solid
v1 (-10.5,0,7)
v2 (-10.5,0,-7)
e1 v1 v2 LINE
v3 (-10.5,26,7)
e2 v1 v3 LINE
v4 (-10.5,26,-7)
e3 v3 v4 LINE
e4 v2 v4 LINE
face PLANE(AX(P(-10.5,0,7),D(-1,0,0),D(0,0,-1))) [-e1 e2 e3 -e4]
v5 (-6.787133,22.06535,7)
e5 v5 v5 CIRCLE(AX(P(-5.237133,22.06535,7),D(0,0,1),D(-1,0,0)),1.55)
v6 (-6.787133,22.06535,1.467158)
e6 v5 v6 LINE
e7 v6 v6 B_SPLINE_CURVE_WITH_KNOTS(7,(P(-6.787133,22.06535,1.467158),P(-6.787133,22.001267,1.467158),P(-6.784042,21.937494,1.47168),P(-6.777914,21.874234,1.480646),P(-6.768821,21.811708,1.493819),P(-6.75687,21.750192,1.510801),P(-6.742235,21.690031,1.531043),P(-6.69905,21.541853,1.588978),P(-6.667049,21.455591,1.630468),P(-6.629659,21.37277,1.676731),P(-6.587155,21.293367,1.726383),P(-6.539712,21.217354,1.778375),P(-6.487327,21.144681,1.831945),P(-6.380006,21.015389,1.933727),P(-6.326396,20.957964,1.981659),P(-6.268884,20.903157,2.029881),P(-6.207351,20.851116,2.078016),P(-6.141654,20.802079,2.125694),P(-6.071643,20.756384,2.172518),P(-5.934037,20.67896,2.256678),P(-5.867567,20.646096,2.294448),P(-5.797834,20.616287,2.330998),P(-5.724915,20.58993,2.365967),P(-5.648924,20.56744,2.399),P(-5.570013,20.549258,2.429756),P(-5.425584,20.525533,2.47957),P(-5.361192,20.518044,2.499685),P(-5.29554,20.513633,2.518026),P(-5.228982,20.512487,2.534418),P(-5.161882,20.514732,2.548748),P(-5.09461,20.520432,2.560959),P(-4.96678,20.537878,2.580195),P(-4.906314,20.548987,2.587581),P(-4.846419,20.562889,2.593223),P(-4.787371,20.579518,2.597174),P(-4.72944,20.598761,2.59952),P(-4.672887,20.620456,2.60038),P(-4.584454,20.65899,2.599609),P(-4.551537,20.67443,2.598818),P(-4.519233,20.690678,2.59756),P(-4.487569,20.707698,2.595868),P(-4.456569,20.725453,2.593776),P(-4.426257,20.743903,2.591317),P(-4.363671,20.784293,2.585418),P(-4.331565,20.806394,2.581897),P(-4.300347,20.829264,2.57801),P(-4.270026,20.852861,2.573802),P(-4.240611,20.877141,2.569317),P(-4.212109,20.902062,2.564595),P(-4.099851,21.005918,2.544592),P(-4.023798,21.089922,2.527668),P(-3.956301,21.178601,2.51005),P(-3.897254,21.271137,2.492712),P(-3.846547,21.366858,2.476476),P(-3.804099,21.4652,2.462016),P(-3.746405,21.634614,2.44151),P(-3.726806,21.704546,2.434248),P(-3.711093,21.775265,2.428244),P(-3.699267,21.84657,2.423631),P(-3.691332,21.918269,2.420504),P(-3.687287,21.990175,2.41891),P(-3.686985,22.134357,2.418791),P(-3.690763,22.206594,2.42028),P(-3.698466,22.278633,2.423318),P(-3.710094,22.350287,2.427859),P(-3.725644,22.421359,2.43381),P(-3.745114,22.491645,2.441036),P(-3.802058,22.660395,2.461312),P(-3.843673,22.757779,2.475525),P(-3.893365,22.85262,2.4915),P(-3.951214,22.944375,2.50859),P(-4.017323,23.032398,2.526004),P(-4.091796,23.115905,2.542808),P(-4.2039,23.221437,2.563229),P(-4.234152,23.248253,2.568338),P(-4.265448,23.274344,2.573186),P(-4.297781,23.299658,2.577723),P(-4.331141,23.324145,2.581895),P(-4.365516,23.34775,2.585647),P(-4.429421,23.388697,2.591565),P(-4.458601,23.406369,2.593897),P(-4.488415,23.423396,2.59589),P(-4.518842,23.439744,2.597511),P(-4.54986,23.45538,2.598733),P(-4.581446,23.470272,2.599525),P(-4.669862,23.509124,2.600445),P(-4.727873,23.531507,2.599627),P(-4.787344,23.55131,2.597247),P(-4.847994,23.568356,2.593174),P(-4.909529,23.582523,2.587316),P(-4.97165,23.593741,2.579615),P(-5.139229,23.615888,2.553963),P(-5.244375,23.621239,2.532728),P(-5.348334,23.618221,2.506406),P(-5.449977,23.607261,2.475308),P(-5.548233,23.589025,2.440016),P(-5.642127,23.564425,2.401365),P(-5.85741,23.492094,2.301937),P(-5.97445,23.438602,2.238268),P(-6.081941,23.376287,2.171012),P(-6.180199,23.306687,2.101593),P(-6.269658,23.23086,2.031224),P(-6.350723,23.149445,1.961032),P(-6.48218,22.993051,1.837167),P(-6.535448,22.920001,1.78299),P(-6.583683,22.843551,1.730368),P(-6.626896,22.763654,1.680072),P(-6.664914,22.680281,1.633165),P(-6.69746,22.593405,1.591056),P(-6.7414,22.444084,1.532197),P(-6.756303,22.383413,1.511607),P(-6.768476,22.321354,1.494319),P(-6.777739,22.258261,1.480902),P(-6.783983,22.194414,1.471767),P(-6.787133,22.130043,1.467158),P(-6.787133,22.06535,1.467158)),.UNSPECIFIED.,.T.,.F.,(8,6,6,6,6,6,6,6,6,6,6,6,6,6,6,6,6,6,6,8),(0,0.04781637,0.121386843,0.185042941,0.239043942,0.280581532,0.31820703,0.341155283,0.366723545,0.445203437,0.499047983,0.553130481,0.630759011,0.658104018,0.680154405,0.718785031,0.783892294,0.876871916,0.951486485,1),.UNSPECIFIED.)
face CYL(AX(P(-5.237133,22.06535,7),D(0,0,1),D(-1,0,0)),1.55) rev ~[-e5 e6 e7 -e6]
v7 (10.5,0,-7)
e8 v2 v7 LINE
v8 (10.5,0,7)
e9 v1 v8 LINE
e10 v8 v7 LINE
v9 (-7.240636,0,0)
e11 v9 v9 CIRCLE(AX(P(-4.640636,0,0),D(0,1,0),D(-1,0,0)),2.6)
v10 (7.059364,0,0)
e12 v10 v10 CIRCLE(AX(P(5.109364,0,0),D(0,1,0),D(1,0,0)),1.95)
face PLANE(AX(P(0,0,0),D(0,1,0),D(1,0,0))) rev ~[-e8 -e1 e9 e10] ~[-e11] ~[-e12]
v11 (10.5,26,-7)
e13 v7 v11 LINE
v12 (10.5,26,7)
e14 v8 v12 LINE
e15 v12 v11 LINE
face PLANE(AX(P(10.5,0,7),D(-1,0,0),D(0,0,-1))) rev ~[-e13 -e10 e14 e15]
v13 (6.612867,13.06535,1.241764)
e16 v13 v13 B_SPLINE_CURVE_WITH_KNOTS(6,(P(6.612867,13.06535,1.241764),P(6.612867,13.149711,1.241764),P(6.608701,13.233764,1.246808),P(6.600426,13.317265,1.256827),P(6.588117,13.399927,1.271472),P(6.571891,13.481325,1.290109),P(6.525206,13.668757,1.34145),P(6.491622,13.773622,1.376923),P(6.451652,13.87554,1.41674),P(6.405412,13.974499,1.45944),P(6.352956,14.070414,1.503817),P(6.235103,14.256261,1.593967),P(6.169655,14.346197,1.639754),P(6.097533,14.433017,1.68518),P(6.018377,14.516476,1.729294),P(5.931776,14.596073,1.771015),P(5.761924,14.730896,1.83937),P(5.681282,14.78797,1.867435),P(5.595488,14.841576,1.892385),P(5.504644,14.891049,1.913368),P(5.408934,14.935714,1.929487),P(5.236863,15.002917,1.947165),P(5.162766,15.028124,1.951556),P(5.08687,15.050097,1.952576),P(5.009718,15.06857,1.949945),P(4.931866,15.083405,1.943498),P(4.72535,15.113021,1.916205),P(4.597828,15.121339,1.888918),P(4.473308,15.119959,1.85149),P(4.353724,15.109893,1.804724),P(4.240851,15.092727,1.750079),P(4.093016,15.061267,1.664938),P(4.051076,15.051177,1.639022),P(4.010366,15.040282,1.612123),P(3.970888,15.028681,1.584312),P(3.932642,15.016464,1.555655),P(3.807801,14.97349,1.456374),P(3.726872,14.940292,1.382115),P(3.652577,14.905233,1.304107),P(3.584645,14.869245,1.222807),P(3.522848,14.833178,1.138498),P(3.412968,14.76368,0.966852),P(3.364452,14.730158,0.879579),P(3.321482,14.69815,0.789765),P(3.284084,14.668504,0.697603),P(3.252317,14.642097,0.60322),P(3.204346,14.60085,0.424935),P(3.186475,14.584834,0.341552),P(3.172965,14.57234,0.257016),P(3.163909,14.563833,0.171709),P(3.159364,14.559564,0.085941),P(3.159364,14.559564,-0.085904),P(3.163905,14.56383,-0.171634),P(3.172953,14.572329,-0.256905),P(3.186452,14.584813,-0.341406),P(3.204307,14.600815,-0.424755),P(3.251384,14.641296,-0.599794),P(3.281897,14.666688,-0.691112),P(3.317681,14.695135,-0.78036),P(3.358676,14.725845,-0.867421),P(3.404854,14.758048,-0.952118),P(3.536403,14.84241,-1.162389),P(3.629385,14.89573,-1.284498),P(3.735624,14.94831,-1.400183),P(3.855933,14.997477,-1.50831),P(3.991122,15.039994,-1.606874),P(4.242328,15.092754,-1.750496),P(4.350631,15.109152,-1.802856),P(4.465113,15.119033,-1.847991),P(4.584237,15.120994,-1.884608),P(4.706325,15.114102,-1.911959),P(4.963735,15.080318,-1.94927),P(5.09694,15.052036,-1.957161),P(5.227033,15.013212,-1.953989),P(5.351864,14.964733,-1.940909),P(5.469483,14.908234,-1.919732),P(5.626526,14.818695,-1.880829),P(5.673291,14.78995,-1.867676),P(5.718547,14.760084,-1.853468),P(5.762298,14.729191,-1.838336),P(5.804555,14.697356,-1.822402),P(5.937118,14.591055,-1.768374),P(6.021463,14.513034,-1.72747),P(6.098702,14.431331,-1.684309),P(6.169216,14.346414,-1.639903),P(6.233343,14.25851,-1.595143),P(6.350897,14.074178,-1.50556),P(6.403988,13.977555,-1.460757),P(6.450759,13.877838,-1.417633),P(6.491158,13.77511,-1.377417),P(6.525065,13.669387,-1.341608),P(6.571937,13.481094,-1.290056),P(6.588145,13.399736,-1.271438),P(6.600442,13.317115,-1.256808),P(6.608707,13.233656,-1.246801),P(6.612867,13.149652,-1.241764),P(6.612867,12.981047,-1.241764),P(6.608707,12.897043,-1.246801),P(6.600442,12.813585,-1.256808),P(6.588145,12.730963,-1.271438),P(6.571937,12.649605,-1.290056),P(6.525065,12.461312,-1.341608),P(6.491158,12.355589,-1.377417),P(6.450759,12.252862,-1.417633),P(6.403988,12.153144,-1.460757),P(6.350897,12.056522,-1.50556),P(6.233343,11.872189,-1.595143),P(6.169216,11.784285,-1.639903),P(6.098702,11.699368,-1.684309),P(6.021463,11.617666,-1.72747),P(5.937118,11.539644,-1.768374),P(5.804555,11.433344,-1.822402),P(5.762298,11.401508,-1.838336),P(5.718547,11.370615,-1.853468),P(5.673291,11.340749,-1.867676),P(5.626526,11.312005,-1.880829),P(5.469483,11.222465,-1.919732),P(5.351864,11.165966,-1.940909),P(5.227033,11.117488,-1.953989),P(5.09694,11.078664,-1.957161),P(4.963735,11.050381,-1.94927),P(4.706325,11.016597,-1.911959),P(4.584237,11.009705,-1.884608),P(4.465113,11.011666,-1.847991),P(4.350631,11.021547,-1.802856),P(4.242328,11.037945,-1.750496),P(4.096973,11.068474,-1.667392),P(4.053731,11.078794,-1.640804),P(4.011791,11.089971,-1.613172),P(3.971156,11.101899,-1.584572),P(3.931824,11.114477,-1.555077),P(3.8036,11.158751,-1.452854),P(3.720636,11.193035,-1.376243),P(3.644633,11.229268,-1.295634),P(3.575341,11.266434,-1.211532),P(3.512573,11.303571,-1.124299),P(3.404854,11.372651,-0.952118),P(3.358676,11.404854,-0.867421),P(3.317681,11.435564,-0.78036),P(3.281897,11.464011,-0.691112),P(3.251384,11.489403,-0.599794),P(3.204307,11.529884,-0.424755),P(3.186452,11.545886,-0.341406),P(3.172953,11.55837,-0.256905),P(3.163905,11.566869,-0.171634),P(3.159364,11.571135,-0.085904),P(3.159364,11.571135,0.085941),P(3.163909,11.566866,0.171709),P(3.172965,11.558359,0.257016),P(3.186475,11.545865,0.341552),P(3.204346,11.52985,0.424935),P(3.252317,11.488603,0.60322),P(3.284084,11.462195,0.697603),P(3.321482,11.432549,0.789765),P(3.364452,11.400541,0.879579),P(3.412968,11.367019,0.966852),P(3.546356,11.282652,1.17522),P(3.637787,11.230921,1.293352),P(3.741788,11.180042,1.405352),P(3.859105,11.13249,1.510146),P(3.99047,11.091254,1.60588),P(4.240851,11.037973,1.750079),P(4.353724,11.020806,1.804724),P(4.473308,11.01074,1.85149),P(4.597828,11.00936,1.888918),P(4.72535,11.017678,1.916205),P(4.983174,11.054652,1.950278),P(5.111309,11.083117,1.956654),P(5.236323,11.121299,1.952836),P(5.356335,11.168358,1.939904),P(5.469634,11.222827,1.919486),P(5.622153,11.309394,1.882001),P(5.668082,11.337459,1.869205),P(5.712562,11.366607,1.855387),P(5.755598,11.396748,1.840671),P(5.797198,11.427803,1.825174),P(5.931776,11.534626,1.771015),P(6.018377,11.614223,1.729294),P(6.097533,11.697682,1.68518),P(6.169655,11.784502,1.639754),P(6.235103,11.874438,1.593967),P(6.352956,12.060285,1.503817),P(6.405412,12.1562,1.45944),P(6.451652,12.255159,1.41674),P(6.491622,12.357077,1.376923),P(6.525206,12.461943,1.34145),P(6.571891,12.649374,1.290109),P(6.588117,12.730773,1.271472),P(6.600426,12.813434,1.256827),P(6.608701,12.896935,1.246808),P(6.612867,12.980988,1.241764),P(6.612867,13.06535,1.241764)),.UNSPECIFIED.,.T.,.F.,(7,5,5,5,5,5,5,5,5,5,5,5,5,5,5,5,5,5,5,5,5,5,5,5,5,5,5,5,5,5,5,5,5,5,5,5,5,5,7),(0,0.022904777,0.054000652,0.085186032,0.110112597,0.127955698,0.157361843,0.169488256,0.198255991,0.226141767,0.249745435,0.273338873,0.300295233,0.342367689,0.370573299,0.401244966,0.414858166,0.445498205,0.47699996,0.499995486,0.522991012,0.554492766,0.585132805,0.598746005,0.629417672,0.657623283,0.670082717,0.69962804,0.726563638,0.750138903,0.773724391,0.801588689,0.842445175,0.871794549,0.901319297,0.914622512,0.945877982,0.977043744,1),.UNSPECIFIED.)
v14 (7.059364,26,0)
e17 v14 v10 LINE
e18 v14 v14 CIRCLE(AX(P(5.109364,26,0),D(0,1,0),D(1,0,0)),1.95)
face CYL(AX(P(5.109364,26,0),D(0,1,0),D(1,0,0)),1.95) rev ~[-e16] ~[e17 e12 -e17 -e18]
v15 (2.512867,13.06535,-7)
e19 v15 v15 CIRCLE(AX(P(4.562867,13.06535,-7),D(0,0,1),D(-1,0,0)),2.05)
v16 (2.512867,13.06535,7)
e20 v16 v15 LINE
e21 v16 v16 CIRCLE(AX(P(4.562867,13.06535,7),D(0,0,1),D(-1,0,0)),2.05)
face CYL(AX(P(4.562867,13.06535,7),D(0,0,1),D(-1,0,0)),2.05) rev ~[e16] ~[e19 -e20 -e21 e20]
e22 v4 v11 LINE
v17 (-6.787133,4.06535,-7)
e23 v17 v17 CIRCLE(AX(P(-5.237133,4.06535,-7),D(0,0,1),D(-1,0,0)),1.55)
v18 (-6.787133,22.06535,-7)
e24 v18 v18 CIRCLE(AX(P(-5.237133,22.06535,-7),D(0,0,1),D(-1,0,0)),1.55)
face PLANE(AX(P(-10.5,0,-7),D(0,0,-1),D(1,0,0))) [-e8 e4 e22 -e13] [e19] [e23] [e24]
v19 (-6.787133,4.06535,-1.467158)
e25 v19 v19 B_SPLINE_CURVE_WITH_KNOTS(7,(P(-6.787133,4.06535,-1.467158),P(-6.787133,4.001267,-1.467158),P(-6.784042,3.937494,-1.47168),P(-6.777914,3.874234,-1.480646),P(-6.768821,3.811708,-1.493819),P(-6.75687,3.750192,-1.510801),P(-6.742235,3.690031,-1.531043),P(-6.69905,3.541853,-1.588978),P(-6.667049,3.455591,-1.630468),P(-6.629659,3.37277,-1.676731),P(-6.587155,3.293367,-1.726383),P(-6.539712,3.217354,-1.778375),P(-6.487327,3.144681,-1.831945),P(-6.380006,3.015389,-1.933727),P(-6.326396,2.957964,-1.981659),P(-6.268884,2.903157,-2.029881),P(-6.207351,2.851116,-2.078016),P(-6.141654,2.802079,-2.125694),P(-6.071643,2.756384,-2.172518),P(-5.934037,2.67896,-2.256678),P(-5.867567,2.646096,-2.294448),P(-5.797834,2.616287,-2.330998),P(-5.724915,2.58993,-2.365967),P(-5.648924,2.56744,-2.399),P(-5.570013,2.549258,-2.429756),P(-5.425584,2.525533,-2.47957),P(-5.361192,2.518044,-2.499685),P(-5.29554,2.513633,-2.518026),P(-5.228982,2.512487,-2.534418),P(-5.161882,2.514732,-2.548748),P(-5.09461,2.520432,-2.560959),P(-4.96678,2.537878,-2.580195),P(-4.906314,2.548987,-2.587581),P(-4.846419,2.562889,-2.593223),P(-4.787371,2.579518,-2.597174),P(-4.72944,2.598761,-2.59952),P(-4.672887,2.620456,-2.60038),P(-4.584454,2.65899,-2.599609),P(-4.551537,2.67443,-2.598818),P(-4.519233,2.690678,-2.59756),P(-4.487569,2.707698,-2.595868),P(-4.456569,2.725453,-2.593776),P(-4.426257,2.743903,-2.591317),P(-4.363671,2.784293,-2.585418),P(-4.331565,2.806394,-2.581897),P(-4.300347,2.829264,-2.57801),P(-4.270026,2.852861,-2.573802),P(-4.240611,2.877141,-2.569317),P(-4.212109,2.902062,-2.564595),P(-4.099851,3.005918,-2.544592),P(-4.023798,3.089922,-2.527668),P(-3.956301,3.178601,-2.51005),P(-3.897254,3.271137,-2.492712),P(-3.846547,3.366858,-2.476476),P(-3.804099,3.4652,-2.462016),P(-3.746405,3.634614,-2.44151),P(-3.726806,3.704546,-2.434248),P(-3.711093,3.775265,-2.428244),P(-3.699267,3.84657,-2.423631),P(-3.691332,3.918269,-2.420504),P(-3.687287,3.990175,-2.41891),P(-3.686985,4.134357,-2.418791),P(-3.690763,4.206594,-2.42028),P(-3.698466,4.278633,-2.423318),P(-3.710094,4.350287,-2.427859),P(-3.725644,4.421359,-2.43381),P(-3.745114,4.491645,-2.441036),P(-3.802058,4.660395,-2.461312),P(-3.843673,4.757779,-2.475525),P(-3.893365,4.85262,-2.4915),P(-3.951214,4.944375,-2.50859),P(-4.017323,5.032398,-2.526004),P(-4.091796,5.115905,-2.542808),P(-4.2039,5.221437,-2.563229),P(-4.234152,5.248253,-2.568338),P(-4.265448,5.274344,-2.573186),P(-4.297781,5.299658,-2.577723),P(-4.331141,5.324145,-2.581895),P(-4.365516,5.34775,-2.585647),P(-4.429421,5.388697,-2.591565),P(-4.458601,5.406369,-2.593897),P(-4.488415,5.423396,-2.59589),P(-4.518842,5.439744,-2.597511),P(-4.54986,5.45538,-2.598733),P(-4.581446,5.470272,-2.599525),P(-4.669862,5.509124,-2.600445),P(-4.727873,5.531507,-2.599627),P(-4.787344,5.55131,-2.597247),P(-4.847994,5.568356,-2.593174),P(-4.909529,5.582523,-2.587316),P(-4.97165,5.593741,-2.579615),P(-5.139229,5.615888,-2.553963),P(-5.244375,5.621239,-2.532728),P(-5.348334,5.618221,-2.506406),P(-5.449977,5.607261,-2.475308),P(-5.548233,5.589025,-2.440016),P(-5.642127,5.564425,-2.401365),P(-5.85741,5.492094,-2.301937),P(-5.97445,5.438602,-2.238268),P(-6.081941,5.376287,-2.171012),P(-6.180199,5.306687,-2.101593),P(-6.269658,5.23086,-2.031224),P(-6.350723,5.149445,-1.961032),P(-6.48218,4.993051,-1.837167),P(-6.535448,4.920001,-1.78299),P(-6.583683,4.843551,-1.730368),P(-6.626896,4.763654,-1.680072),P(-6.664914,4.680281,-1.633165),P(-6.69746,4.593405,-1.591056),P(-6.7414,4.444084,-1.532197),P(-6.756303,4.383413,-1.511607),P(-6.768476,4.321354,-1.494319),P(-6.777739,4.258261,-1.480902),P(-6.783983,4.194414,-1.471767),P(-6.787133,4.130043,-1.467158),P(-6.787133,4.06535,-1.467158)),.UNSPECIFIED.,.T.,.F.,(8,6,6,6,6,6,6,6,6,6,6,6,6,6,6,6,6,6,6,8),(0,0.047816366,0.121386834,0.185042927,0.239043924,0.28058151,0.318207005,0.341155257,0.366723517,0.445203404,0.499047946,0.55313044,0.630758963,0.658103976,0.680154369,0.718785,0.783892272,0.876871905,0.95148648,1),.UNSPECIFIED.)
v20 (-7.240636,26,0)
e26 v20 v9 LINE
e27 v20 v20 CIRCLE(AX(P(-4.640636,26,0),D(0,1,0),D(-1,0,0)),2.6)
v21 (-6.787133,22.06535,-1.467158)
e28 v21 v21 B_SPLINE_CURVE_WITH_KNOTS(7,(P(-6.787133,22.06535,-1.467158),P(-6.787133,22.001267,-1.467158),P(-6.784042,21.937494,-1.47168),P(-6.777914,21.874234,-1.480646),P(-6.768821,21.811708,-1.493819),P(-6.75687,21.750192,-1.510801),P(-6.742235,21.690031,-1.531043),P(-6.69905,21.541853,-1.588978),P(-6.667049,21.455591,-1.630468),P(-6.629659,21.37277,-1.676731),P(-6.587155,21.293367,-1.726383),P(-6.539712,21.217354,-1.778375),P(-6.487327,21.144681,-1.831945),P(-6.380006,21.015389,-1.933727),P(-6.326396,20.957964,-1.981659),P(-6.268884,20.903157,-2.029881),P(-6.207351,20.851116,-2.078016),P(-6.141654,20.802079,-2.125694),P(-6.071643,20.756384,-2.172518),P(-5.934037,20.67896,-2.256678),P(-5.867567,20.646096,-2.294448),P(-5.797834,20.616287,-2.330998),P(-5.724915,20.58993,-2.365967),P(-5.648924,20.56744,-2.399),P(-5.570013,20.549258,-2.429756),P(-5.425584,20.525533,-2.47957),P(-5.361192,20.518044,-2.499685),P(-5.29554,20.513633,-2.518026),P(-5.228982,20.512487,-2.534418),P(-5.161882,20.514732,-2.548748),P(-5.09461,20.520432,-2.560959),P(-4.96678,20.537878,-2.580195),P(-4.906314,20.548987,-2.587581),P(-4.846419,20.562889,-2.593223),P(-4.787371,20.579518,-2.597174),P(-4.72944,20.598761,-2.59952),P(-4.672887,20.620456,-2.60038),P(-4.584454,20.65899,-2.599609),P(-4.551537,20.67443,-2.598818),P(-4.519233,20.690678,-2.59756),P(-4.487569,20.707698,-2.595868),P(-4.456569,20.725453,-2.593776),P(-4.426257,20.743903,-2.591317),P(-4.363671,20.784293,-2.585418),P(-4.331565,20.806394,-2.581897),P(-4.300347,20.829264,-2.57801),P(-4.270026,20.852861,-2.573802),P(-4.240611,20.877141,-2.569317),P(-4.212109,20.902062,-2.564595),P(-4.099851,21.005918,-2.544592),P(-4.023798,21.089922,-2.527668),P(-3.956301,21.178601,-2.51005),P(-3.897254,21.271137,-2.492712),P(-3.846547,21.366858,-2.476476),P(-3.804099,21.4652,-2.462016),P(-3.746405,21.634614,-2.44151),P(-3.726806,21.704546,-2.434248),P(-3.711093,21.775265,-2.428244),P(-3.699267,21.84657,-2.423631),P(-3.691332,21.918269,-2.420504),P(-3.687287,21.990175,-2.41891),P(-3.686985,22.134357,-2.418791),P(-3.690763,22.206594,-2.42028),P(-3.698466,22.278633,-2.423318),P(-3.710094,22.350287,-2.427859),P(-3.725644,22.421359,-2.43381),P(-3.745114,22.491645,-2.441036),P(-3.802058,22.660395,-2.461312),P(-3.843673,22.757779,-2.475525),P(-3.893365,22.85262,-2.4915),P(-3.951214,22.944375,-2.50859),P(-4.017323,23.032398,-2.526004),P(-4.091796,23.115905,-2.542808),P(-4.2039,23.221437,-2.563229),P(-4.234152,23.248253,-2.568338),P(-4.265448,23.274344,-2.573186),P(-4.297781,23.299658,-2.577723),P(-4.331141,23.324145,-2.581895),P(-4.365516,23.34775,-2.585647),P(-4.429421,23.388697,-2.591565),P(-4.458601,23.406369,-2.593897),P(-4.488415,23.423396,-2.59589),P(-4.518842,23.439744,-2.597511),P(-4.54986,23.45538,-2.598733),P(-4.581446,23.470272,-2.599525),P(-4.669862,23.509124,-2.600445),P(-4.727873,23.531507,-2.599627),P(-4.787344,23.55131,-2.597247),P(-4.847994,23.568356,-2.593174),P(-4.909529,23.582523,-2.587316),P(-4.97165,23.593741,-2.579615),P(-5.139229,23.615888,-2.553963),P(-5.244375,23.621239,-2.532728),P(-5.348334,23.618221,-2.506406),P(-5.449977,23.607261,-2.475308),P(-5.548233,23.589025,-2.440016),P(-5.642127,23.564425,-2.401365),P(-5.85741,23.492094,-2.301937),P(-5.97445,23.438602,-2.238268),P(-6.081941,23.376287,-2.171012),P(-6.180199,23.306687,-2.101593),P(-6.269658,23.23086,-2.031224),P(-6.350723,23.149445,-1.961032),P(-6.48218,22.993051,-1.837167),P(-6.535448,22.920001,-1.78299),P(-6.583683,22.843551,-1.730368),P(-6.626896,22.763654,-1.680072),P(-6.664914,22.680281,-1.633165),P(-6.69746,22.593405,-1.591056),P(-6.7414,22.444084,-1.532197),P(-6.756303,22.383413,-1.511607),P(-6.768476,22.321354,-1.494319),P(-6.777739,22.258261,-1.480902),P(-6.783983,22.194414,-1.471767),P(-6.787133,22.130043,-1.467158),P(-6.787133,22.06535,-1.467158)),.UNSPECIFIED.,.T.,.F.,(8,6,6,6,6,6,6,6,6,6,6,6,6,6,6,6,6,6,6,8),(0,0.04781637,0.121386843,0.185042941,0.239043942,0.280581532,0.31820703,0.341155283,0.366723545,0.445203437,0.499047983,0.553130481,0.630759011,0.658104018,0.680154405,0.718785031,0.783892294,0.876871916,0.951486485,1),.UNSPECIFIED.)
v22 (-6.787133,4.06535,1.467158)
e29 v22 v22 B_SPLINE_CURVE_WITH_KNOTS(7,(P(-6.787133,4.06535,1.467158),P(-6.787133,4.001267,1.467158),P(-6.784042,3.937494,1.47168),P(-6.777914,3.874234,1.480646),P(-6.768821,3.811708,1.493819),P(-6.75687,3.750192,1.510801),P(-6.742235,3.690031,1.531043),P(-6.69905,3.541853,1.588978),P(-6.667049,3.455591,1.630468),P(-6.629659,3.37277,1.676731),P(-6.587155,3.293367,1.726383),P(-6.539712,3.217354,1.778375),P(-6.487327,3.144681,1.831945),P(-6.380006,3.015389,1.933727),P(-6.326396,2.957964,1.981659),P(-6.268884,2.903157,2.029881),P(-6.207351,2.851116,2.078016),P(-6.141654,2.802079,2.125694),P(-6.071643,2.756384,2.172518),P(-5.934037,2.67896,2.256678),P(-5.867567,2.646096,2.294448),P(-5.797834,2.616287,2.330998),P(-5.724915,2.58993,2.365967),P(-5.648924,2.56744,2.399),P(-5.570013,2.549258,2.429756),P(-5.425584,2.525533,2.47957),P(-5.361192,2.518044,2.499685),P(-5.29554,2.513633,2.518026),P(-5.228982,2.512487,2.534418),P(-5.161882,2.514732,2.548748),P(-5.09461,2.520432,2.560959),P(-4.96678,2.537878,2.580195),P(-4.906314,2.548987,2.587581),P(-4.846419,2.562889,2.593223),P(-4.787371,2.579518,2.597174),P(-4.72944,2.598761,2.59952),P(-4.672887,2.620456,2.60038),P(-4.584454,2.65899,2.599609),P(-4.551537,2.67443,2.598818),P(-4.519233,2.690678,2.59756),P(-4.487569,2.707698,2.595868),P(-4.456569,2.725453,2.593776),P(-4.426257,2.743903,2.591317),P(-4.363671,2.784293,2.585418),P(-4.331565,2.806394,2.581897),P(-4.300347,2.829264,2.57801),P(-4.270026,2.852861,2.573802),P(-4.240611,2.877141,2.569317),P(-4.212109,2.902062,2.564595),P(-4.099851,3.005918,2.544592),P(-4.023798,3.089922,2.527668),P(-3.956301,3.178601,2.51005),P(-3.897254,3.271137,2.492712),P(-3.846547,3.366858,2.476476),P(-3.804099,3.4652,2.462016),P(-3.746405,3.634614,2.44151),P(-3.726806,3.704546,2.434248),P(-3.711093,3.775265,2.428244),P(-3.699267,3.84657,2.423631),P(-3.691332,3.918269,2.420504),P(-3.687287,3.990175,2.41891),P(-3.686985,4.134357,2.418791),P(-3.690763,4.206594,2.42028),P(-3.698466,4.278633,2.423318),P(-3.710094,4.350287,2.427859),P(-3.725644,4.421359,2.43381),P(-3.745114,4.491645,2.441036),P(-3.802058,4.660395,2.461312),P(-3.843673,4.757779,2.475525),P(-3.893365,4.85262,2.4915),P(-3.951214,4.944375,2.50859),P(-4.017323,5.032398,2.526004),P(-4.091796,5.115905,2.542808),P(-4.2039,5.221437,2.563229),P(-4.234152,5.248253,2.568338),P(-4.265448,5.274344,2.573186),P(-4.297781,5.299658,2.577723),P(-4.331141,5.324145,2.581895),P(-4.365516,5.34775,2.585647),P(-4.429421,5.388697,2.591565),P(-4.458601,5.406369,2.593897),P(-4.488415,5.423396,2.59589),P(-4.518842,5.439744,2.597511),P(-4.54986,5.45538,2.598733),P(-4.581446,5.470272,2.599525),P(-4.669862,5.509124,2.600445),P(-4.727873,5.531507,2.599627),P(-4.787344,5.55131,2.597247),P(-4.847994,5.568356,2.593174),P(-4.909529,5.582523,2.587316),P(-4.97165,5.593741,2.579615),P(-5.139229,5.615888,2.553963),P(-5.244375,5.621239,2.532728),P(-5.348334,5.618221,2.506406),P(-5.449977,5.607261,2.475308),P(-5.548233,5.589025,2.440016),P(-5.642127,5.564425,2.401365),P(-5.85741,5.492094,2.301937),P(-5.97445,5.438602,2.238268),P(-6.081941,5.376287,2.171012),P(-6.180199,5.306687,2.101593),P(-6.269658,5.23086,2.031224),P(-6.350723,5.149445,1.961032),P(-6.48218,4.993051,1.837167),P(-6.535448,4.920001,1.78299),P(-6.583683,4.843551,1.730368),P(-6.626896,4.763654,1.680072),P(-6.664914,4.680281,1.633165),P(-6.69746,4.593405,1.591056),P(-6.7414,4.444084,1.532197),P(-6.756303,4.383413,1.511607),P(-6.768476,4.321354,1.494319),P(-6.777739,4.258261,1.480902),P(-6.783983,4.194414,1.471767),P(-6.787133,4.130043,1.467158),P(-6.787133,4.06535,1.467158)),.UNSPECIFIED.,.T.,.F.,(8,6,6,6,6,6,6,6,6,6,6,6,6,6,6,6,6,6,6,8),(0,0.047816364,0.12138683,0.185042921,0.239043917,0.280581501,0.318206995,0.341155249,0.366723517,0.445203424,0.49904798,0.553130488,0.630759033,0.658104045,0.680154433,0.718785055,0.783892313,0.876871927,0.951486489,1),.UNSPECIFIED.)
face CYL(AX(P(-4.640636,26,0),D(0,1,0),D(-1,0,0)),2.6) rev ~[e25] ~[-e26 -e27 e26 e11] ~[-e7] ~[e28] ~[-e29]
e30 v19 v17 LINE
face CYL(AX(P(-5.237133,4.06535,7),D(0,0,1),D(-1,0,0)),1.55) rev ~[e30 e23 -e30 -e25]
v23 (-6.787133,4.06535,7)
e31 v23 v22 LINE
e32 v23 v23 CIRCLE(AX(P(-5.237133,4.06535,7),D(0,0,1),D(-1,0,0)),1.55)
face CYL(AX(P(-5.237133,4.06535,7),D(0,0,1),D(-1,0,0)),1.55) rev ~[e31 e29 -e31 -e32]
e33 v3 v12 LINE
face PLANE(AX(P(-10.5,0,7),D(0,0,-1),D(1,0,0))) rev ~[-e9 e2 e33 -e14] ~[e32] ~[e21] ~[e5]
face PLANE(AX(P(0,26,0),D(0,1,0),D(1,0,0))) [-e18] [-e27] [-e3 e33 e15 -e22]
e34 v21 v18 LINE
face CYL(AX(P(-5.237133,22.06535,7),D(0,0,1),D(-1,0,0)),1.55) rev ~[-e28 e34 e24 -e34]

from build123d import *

# Parameters (mm, degrees)
SKETCH1_W           = 21
SKETCH1_H           = 14
BOSS_EXTRUDE2_DEPTH = 26
CUT_EXTRUDE1_DEPTH  = 26
CUT_EXTRUDE2_DEPTH  = 26


with BuildPart() as part:
    # Sketch1 → Boss-Extrude2 (new body)
    with BuildSketch(Plane(origin=(0, 0, 0), x_dir=(1, 0, 0), z_dir=(0, 1, 0))):
        Rectangle(SKETCH1_W, SKETCH1_H)
    extrude(amount=BOSS_EXTRUDE2_DEPTH)

    # Sketch3 → Cut-Extrude1 (cut)
    with BuildSketch(Plane.XY.offset(7)):
        with BuildLine():
            ThreePointArc((-3.687132732, 4.065349549), (-5.237132732, 5.615349549), (-6.787132732, 4.065349549))
            ThreePointArc((-6.787132732, 4.065349549), (-5.237132732, 2.515349549), (-3.687132732, 4.065349549))
        make_face()
        with BuildLine():
            ThreePointArc((6.612867268, 13.065349549), (4.562867268, 15.115349549), (2.512867268, 13.065349549))
            ThreePointArc((2.512867268, 13.065349549), (4.562867268, 11.015349549), (6.612867268, 13.065349549))
        make_face()
        with BuildLine():
            ThreePointArc((-3.687132732, 22.065349549), (-5.237132732, 23.615349549), (-6.787132732, 22.065349549))
            ThreePointArc((-6.787132732, 22.065349549), (-5.237132732, 20.515349549), (-3.687132732, 22.065349549))
        make_face()
    extrude(amount=-CUT_EXTRUDE1_DEPTH, mode=Mode.SUBTRACT)

    # Sketch4 → Cut-Extrude2 (cut)
    with BuildSketch(Plane(origin=(0, 26, 0), x_dir=(1, 0, 0), z_dir=(0, 1, 0))):
        with BuildLine():
            ThreePointArc((-2.040636321, 0), (-4.640636321, 2.6), (-7.240636321, 0))
            ThreePointArc((-7.240636321, 0), (-4.640636321, -2.6), (-2.040636321, 0))
        make_face()
        with BuildLine():
            ThreePointArc((3.159363679, 0), (5.109363679, -1.95), (7.059363679, 0))
            ThreePointArc((7.059363679, 0), (5.109363679, 1.95), (3.159363679, 0))
        make_face()
    extrude(amount=-CUT_EXTRUDE2_DEPTH, mode=Mode.SUBTRACT)


solid = part.part
